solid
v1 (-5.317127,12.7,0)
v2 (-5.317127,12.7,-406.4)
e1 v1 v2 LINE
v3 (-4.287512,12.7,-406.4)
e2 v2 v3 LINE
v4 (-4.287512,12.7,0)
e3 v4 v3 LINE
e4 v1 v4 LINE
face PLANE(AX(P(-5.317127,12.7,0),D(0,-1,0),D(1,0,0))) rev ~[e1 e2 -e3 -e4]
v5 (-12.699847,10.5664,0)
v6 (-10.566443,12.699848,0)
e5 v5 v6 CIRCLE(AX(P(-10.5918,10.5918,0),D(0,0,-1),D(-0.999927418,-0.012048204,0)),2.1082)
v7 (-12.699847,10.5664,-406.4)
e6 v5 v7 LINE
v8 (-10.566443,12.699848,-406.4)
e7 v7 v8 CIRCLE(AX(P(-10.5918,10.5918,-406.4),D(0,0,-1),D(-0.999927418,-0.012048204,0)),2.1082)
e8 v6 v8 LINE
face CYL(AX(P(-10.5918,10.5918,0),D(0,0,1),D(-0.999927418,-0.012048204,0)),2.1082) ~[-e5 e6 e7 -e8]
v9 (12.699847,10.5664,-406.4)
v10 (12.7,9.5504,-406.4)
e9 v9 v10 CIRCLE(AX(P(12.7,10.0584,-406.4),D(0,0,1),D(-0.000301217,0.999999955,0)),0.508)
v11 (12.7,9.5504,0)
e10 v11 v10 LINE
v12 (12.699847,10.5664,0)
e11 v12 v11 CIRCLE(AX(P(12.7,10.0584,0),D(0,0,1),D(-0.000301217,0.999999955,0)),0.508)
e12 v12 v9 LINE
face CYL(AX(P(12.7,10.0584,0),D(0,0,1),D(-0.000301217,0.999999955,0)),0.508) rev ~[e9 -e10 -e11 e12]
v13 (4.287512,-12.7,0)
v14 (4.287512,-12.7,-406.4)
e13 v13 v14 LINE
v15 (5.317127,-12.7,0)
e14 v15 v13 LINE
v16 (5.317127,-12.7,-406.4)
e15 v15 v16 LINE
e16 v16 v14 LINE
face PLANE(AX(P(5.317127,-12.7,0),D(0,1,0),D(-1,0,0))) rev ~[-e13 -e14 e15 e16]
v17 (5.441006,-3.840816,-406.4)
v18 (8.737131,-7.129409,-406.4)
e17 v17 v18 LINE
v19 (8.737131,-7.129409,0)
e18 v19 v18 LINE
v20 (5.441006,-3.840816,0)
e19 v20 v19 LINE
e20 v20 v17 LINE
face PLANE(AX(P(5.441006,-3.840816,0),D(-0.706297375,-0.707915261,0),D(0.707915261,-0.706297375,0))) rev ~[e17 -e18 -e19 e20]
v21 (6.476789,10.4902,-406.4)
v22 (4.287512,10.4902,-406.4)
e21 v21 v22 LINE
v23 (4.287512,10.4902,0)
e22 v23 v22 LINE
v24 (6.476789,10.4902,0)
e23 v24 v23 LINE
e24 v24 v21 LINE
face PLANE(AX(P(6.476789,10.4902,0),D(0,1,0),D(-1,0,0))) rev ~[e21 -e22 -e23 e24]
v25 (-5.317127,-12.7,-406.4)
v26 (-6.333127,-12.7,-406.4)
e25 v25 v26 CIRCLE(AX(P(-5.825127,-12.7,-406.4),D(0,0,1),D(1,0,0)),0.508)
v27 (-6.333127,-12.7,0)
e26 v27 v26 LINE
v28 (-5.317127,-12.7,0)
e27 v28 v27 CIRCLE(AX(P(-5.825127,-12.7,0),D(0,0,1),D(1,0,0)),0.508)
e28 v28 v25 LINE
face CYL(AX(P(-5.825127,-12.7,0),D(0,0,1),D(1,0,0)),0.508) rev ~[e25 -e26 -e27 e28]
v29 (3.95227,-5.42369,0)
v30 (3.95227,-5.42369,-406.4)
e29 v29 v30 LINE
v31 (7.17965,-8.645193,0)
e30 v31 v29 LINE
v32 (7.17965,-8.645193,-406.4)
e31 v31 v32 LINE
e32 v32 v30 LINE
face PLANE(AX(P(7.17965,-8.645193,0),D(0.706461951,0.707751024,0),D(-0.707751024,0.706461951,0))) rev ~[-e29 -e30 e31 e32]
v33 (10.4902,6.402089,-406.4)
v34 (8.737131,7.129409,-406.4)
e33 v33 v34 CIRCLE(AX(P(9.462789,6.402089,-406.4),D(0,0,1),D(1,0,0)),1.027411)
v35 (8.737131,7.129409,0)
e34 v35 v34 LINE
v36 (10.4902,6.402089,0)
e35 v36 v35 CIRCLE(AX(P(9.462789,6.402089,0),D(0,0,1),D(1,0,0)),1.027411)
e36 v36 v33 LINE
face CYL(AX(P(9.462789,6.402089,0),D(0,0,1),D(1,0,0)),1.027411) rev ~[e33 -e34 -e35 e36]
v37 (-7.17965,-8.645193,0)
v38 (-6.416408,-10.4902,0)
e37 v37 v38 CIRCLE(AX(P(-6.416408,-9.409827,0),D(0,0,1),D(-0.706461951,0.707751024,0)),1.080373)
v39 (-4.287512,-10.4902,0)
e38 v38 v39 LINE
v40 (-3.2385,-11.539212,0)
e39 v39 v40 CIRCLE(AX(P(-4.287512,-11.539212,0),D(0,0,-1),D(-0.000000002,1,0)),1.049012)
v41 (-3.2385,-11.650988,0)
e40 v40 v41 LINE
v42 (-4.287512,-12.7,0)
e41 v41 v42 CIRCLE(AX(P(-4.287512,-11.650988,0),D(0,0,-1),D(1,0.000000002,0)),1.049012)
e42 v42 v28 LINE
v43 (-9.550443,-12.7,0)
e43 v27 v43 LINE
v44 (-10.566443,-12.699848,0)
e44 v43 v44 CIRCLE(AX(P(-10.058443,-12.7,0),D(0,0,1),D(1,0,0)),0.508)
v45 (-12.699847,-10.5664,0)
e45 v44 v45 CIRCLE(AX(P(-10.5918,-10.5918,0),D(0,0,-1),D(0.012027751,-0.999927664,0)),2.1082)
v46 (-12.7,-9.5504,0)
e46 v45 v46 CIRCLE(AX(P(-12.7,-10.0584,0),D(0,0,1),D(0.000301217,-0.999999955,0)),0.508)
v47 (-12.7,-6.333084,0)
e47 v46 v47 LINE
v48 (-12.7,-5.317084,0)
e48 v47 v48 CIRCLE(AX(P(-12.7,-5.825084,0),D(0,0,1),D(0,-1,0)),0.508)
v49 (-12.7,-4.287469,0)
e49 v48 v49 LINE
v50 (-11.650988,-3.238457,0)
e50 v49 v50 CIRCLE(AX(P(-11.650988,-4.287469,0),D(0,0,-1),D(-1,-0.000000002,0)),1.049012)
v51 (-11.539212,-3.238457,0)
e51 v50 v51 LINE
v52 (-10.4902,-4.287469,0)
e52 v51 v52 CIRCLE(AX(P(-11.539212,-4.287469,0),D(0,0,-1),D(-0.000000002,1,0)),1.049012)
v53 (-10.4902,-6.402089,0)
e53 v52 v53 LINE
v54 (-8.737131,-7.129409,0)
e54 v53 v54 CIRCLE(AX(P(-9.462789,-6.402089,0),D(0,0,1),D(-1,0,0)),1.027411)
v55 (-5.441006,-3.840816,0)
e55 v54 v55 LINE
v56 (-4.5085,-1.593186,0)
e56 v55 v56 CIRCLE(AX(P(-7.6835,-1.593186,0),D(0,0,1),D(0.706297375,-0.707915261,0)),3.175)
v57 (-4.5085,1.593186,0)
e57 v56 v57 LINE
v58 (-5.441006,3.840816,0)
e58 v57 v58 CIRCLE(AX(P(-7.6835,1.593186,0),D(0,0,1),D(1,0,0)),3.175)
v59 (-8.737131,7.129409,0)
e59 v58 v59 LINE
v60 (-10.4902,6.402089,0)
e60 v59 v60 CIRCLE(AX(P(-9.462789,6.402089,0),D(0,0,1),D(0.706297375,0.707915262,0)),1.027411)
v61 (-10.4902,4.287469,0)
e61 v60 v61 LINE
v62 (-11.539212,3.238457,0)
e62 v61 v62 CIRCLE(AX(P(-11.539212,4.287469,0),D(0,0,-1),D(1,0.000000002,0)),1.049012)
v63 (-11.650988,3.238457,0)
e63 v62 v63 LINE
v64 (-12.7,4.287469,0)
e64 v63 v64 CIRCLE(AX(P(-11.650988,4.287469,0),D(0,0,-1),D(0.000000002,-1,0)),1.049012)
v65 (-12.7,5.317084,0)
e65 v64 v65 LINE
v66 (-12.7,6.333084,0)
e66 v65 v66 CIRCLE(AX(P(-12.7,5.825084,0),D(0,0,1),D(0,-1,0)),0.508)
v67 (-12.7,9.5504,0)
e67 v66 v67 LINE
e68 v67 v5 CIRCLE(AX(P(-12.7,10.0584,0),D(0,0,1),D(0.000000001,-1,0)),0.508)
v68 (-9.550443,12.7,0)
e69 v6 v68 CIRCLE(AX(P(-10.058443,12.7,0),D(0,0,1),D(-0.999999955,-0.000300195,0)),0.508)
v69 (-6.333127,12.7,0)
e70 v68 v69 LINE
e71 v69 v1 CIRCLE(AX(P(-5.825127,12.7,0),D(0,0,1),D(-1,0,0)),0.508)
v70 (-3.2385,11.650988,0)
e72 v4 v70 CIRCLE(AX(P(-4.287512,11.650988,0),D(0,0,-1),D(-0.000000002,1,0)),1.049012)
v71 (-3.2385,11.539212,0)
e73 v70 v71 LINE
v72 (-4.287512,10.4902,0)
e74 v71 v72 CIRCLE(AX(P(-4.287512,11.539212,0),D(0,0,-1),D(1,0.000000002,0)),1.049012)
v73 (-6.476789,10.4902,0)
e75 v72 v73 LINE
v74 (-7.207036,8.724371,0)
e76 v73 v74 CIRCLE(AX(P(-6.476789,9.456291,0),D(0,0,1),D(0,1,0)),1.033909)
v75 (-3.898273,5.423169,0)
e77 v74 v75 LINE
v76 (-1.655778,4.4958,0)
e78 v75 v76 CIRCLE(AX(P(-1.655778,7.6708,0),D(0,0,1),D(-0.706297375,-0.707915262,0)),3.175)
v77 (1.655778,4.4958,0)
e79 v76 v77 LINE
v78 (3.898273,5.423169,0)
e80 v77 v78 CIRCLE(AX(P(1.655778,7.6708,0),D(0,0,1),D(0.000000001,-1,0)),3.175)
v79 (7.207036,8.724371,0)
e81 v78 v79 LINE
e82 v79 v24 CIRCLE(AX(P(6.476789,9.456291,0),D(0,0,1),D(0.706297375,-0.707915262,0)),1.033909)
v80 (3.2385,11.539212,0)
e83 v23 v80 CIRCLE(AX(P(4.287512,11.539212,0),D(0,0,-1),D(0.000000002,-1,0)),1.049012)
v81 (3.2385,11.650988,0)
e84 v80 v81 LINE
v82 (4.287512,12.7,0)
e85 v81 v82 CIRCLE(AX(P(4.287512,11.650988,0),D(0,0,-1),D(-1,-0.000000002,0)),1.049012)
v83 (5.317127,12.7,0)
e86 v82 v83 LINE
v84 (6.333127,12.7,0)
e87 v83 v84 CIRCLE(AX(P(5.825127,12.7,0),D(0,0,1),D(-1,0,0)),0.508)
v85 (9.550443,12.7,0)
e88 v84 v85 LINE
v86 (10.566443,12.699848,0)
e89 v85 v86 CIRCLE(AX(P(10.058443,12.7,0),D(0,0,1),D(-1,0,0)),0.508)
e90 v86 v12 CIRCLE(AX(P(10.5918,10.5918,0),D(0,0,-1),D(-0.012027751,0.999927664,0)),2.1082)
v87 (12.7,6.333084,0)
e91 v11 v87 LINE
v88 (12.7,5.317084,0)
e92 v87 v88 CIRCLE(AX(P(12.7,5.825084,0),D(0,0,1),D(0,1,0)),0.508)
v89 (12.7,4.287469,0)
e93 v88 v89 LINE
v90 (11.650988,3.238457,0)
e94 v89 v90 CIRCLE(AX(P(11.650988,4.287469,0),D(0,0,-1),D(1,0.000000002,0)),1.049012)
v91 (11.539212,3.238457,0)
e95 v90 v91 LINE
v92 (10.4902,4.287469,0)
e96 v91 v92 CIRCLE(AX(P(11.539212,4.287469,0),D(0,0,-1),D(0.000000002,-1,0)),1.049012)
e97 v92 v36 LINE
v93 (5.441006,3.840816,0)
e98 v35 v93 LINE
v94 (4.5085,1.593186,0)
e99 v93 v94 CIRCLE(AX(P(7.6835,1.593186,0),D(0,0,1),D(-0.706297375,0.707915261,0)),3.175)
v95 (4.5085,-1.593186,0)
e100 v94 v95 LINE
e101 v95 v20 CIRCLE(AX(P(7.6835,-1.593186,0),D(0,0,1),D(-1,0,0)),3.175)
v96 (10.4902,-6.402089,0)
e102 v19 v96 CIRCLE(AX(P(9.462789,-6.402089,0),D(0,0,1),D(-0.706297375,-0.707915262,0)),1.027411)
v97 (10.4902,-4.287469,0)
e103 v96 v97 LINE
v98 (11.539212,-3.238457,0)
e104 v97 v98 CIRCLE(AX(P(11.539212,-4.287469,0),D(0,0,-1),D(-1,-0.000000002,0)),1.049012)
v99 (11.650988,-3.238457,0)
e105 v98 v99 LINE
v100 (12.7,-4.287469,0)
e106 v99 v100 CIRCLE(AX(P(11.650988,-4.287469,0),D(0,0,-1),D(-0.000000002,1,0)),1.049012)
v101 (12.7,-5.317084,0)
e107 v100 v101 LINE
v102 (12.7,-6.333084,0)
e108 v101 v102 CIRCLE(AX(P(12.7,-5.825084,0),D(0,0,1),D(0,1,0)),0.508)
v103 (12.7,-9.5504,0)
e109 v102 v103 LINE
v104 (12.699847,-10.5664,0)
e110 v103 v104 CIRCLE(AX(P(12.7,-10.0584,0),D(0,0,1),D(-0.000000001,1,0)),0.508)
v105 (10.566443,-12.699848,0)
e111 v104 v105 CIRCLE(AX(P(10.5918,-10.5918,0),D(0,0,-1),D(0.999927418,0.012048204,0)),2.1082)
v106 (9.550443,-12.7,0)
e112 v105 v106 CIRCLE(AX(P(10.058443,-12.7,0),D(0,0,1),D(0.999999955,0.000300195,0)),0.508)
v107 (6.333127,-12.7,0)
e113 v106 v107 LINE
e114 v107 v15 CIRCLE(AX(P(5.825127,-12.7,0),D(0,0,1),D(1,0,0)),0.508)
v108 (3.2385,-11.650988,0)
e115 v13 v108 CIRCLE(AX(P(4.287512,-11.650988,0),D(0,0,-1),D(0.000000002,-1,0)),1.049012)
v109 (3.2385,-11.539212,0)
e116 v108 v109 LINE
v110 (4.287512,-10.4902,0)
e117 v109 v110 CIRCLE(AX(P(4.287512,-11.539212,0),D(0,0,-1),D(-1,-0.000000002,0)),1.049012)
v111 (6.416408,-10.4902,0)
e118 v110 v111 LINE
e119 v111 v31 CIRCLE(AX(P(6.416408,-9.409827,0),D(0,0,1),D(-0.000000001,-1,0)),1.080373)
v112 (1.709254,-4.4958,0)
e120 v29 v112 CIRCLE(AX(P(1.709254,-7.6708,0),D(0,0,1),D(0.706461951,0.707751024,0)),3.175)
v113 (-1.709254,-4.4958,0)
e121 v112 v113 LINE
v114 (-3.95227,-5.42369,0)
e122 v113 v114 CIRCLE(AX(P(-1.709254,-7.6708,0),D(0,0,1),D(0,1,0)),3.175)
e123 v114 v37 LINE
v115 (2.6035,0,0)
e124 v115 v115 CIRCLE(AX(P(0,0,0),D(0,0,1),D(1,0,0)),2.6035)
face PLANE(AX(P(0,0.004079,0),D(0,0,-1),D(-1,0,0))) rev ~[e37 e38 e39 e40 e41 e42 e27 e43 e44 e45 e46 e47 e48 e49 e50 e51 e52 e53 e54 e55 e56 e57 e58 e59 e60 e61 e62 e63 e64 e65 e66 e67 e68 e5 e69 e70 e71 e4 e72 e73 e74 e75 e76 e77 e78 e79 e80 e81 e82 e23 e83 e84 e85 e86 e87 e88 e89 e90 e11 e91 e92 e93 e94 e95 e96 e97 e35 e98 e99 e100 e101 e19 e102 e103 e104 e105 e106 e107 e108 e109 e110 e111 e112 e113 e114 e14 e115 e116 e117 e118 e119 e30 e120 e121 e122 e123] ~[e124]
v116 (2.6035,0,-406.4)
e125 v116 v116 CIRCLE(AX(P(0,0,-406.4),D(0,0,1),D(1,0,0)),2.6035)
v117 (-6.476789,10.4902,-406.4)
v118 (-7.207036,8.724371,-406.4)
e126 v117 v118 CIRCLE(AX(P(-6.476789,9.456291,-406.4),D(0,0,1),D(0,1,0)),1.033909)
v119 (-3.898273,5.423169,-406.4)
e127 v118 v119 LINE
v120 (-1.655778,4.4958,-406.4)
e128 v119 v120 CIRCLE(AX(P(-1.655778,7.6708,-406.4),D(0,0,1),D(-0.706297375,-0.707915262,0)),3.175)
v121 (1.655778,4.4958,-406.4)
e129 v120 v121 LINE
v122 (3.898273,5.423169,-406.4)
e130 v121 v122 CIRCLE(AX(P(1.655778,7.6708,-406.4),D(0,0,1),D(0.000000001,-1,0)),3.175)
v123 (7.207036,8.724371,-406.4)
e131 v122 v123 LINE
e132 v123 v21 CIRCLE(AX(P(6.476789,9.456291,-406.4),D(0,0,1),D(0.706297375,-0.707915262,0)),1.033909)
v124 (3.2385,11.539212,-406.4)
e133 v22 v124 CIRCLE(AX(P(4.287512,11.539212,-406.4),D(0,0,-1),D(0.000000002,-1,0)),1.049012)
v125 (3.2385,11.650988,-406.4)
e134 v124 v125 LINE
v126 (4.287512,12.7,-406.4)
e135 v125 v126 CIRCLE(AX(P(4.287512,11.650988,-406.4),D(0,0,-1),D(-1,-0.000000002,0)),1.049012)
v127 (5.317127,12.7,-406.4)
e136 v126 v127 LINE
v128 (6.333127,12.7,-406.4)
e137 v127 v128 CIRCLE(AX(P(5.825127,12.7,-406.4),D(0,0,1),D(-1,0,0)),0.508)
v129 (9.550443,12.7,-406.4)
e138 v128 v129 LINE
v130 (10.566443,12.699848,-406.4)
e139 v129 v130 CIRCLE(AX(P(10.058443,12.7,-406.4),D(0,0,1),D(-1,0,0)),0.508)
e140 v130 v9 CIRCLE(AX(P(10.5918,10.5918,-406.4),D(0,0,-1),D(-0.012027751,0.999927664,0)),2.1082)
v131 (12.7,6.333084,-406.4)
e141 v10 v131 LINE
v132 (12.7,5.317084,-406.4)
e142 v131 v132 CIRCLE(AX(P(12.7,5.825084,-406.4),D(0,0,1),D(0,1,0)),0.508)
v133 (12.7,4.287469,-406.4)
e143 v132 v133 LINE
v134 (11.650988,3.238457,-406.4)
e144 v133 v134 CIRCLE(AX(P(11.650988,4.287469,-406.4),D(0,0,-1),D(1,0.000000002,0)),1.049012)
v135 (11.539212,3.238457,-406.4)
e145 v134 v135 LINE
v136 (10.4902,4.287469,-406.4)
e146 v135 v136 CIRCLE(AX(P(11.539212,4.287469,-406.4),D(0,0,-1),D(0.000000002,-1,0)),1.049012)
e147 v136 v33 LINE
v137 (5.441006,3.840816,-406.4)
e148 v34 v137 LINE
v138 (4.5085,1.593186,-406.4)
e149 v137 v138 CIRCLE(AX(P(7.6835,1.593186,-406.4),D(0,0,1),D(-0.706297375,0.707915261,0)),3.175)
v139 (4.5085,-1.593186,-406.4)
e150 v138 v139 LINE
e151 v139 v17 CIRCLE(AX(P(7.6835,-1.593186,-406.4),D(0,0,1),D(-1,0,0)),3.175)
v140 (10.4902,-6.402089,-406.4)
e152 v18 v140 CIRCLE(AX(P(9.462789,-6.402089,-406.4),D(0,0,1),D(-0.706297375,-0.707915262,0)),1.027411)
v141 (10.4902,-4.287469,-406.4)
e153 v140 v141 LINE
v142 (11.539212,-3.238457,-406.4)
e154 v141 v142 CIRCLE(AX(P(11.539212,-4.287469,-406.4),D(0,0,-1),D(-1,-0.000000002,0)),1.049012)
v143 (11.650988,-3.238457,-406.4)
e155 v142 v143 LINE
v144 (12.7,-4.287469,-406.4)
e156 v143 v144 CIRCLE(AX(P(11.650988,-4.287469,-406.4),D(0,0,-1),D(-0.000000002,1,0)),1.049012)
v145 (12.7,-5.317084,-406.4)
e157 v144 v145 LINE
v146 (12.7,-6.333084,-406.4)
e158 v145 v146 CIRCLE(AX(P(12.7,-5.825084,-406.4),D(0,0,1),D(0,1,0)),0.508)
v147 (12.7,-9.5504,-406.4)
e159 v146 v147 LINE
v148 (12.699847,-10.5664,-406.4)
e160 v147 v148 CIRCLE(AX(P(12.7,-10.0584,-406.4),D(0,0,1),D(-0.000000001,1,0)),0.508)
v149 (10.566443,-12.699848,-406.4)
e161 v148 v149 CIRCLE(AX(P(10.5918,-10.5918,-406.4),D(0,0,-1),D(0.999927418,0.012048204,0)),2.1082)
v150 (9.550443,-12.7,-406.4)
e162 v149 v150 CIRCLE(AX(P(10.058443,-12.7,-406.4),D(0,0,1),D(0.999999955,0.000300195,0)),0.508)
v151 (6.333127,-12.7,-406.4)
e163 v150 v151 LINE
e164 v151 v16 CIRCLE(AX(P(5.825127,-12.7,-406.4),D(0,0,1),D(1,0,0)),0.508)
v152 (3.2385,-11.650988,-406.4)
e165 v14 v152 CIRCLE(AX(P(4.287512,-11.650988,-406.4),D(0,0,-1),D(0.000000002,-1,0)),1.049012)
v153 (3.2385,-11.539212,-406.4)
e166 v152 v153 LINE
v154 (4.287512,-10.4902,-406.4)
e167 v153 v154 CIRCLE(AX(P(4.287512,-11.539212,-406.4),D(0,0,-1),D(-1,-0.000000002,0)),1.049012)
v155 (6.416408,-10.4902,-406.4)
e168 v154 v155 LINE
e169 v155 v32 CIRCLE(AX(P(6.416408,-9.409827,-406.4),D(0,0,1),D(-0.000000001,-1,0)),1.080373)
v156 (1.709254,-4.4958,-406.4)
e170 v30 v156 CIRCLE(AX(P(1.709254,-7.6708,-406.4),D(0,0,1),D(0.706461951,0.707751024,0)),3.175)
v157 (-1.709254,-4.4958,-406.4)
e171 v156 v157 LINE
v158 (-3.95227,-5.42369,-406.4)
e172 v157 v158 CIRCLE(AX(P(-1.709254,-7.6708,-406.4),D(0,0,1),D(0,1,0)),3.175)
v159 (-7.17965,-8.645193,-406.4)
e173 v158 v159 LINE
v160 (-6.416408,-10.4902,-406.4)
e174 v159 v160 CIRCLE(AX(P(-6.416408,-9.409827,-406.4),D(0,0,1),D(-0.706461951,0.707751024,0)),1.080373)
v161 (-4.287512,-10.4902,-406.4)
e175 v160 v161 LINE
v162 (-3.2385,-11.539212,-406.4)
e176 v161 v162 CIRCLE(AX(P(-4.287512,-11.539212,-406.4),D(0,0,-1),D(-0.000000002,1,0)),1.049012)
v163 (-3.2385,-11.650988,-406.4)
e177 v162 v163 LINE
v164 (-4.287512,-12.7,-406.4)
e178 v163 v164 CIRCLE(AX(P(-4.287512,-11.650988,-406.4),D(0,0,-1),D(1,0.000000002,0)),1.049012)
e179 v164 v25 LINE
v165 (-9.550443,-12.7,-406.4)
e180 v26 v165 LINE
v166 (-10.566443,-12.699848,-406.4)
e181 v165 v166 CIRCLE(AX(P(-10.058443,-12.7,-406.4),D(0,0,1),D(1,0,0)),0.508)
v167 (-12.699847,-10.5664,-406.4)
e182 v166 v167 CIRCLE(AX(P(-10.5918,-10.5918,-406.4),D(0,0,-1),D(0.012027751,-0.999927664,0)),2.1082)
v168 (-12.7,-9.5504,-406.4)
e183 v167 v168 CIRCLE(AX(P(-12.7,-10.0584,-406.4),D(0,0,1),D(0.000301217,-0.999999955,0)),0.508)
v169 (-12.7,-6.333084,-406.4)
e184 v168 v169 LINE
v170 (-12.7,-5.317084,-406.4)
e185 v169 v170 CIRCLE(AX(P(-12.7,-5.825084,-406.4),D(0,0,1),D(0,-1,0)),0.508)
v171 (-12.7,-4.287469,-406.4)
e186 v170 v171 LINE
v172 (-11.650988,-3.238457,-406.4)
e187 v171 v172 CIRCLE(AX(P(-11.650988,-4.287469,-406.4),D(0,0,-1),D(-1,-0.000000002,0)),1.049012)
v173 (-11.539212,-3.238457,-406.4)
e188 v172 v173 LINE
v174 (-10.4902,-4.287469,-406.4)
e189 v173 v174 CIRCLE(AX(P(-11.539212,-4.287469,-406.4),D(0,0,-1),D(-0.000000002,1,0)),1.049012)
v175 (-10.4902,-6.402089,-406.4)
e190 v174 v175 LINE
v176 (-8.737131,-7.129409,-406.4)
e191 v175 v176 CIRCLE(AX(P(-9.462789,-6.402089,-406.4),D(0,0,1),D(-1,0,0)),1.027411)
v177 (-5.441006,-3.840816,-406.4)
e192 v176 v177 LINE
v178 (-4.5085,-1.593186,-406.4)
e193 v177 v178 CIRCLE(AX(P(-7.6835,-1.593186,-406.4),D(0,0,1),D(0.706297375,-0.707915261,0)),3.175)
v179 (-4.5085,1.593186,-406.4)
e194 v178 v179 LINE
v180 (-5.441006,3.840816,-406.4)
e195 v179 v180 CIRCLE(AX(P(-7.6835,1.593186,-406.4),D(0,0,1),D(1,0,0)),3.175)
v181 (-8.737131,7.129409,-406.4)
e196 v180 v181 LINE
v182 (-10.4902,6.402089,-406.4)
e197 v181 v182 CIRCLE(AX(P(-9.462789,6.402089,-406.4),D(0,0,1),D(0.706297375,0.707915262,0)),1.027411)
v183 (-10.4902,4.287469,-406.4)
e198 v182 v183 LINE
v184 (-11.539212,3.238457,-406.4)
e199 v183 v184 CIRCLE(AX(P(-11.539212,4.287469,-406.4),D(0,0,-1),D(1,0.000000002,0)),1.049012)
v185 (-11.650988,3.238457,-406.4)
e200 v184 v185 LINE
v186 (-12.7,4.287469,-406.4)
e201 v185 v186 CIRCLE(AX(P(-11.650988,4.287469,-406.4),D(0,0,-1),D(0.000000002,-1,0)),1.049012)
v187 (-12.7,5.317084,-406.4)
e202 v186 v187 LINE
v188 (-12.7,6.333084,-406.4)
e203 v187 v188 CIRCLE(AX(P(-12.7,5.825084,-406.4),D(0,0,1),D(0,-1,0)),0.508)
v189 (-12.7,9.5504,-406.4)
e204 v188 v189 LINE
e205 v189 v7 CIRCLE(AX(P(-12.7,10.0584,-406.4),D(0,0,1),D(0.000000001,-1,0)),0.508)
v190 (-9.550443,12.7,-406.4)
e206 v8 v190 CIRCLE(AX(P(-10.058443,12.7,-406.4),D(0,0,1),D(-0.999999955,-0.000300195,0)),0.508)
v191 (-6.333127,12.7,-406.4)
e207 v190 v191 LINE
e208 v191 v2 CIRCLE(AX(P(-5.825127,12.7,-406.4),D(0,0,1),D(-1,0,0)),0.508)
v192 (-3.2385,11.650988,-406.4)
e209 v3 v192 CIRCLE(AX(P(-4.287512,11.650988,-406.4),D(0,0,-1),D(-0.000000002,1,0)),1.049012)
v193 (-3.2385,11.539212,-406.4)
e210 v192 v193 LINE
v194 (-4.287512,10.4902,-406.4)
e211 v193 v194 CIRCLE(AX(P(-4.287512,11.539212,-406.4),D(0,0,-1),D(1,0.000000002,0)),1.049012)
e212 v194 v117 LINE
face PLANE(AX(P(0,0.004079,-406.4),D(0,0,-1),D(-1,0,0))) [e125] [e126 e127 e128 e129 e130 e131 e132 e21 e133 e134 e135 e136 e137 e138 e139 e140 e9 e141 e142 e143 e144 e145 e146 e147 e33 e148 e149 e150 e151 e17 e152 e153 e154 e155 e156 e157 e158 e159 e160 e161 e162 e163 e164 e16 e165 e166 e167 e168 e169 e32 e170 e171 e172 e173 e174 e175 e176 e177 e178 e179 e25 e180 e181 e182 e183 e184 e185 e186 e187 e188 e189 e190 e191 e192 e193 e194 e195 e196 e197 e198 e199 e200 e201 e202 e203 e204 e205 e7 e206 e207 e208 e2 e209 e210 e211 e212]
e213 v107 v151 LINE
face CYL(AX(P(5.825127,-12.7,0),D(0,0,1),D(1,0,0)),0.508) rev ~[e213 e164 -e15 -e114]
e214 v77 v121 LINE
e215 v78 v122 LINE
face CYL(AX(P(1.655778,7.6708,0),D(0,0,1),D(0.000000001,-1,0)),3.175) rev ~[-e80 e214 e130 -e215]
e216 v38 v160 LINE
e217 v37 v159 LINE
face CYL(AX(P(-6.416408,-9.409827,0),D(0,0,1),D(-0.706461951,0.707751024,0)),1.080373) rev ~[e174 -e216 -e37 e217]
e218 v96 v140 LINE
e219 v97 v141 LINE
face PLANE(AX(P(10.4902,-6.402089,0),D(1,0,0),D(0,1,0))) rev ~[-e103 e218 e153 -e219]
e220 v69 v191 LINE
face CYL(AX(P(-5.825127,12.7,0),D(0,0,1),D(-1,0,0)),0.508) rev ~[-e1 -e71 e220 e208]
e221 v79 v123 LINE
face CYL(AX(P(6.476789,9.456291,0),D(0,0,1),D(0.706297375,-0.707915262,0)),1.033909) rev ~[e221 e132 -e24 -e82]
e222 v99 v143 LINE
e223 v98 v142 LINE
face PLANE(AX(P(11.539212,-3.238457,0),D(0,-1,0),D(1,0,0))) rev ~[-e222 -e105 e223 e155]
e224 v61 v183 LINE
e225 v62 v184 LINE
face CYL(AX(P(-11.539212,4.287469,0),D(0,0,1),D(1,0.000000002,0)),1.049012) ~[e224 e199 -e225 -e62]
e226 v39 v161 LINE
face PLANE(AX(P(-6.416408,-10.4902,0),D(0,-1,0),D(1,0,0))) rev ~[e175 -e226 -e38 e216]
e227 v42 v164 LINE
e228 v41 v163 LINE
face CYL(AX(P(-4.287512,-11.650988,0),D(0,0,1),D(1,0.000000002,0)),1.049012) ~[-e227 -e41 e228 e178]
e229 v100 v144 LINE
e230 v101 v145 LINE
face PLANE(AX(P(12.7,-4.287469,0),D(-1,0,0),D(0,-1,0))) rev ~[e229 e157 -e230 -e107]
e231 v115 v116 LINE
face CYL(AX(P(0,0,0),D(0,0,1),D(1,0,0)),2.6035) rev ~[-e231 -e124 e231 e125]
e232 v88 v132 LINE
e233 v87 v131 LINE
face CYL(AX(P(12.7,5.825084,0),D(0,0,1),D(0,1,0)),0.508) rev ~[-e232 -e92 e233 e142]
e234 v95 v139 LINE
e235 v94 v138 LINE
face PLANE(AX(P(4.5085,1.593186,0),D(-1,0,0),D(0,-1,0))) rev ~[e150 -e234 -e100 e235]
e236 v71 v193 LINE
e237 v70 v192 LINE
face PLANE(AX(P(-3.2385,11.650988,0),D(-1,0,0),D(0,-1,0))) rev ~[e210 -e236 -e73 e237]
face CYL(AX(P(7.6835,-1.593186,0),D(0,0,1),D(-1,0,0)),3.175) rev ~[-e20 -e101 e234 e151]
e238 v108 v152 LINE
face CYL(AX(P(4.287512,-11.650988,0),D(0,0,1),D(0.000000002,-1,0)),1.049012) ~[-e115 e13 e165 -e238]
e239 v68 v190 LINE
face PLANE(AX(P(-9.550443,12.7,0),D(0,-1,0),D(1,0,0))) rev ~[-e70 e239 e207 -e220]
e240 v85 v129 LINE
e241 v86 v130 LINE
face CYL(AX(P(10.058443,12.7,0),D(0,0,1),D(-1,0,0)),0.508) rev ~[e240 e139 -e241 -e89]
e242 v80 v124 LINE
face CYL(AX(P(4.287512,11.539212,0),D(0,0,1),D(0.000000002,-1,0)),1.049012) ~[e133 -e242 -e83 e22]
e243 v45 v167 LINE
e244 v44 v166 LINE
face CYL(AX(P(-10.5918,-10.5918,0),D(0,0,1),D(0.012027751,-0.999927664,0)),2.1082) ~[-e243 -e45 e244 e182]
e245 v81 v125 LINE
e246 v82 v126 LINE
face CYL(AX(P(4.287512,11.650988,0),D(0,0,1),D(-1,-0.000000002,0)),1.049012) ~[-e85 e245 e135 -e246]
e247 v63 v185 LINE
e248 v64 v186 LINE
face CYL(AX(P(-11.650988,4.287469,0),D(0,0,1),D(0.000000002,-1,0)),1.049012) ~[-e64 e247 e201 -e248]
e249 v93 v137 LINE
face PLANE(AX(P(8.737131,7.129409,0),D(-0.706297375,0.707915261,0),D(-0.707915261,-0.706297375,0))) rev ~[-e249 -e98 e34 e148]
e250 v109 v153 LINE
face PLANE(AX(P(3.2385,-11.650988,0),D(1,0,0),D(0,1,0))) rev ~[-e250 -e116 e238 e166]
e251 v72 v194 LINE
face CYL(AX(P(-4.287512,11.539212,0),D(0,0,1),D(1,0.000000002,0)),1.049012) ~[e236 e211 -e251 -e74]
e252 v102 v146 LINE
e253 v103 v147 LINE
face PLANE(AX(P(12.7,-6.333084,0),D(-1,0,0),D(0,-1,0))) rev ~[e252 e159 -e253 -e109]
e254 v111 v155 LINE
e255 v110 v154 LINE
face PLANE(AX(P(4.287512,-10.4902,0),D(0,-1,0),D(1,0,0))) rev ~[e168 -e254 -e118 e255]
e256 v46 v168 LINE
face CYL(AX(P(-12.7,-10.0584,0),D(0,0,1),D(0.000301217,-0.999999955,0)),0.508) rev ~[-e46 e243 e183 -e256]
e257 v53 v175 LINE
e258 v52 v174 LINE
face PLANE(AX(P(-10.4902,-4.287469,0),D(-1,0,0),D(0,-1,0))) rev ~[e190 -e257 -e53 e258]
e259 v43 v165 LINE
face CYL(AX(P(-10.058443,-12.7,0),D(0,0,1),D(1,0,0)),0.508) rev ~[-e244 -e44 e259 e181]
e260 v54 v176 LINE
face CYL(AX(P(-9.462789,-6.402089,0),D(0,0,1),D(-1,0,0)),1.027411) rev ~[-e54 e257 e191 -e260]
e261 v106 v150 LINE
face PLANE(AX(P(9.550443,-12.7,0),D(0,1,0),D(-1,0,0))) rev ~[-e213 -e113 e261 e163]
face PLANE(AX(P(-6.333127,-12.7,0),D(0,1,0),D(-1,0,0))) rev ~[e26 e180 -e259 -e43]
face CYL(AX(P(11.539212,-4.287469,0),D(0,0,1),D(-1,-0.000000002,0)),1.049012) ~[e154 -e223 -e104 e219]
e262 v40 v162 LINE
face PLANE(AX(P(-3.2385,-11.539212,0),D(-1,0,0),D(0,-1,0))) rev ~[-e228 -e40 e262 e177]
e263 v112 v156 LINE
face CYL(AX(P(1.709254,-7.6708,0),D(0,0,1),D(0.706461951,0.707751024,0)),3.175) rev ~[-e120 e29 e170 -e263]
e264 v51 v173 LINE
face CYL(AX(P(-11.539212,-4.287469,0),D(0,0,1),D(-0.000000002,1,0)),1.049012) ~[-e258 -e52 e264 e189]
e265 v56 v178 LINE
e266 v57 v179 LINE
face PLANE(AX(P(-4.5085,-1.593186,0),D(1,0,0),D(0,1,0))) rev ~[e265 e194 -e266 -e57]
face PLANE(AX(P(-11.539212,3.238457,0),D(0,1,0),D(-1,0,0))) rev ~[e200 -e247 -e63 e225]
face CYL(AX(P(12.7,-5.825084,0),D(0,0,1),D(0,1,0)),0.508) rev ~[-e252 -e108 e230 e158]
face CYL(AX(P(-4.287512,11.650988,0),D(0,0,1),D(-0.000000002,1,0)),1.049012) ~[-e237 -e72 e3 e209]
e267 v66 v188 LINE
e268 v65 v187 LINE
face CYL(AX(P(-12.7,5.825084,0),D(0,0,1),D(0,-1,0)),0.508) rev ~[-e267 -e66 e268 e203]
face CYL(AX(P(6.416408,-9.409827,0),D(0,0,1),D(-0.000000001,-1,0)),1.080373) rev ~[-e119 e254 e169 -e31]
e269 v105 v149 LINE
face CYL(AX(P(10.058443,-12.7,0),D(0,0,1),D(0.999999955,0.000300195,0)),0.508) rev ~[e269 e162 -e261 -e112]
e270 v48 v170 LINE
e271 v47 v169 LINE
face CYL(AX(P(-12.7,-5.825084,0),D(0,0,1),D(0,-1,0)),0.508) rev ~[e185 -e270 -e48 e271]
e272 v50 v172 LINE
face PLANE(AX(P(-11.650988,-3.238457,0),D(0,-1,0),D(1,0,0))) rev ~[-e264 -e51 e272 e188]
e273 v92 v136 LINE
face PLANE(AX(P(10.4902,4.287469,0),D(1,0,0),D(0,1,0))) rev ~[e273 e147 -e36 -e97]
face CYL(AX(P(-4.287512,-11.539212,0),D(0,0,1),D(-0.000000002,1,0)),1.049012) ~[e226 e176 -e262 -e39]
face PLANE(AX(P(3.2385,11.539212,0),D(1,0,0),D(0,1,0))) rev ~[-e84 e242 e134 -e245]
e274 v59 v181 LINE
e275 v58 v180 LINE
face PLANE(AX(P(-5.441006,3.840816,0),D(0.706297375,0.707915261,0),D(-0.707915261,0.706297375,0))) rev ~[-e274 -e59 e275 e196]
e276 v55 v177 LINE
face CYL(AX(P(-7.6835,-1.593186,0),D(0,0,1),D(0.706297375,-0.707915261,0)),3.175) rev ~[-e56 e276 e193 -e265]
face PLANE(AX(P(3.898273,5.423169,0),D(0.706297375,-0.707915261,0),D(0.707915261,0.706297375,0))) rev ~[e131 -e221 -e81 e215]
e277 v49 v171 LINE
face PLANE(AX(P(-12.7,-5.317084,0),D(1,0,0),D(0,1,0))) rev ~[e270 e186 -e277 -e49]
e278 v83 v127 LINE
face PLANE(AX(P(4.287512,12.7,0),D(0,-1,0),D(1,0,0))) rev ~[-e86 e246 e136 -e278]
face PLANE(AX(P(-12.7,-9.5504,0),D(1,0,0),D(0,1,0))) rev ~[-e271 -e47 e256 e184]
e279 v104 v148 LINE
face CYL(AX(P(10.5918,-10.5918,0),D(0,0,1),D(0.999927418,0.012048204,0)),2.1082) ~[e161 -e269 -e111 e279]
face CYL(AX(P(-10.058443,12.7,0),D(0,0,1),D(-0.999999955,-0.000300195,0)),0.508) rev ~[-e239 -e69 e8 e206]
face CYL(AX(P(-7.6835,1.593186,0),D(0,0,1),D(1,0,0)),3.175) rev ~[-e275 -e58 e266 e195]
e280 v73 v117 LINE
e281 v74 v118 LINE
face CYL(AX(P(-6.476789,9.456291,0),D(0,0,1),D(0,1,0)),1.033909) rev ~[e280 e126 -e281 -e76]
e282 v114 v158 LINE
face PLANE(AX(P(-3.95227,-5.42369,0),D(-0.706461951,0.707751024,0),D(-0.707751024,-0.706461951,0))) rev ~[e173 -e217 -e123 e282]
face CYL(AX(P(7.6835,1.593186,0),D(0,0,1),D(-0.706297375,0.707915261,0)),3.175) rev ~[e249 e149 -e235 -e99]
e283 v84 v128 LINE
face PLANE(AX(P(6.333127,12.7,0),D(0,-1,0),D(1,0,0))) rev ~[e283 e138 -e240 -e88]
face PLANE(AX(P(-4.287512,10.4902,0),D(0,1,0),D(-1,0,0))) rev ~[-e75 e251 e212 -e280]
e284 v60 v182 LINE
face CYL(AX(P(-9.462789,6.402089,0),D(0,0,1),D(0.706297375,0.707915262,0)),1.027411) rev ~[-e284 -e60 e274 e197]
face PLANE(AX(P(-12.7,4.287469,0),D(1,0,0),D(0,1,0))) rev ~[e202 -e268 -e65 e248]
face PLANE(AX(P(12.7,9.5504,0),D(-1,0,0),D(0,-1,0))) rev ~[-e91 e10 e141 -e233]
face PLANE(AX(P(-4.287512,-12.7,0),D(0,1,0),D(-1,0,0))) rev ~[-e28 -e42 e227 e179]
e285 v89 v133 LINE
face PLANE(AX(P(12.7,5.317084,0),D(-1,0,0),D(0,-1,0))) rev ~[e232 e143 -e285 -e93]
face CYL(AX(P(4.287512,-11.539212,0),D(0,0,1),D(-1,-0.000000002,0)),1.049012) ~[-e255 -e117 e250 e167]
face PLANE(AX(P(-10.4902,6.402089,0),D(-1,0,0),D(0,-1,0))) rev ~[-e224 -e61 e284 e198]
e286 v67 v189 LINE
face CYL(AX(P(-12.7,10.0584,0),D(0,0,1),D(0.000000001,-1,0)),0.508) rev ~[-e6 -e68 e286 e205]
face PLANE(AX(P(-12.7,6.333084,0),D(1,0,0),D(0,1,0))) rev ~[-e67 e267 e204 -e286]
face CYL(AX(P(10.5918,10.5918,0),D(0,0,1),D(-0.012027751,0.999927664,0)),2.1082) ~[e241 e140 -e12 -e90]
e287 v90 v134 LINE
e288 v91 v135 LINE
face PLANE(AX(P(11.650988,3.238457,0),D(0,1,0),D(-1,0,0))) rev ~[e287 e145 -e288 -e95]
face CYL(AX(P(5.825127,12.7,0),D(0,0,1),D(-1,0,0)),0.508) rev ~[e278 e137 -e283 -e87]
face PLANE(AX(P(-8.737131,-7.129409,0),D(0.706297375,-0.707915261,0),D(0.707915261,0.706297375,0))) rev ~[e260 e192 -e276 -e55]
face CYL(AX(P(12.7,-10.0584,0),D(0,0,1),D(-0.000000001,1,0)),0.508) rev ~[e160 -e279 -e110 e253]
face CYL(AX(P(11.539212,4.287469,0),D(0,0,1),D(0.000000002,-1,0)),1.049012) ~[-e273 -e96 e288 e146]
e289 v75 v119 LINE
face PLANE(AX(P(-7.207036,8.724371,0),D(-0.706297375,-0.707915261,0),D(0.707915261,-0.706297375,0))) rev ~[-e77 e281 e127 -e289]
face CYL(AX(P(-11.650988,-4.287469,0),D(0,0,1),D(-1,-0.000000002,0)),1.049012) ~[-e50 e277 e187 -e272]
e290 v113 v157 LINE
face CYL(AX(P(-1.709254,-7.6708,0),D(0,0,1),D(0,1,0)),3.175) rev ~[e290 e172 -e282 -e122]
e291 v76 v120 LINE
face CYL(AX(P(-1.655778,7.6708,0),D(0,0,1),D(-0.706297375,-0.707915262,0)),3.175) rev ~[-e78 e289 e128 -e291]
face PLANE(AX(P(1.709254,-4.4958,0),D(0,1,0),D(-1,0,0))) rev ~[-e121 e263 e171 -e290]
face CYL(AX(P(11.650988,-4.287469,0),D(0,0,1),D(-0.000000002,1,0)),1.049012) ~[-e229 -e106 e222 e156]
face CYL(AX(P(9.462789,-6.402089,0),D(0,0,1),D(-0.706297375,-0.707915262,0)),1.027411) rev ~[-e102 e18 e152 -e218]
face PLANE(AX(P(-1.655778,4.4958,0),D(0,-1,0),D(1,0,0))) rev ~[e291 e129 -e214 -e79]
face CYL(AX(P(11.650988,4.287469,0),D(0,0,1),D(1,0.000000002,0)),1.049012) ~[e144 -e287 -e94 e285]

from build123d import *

# Parameters (mm, degrees)
SKETCH1_R      = 2.6035
EXTRUDE1_DEPTH = 406.4


with BuildPart() as part:
    # Sketch1 → Extrude1 (new body)
    with BuildSketch(Plane.XY):
        with BuildLine():
            Line((-7.207036008, 8.724370562), (-3.898272566, 5.423169045))
            ThreePointArc((-3.898272566, 5.423169045), (-2.869120213, 4.736787962), (-1.655778399, 4.4958))
            Line((-1.655778399, 4.4958), (1.655778399, 4.4958))
            ThreePointArc((1.655778399, 4.4958), (2.869120213, 4.736787962), (3.898272566, 5.423169045))
            Line((3.898272566, 5.423169045), (7.207036008, 8.724370562))
            ThreePointArc((7.207036008, 8.724370562), (7.432222385, 9.85140422), (6.476788598, 10.4902))
            Line((6.476788598, 10.4902), (4.287512407, 10.4902))
            ThreePointArc((4.287512407, 10.4902), (3.54574862, 10.79744862), (3.2385, 11.539212407))
            Line((3.2385, 11.539212407), (3.2385, 11.650987593))
            ThreePointArc((3.2385, 11.650987593), (3.54574862, 12.39275138), (4.287512407, 12.7))
            Line((4.287512407, 12.7), (5.317126718, 12.7))
            ThreePointArc((5.317126718, 12.7), (5.825126718, 12.192), (6.333126718, 12.7))
            Line((6.333126718, 12.7), (9.550443118, 12.7))
            ThreePointArc((9.550443118, 12.7), (10.058366869, 12.192000006), (10.566443095, 12.699847501))
            ThreePointArc((10.566443095, 12.699847501), (12.082537762, 12.08250727), (12.699846982, 10.566399977))
            ThreePointArc((12.699846982, 10.566399977), (12.192000006, 10.058323491), (12.7, 9.5504))
            Line((12.7, 9.5504), (12.7, 6.3330836))
            ThreePointArc((12.7, 6.3330836), (12.192, 5.8250836), (12.7, 5.3170836))
            Line((12.7, 5.3170836), (12.7, 4.287469289))
            ThreePointArc((12.7, 4.287469289), (12.39275138, 3.545705502), (11.650987593, 3.238456882))
            Line((11.650987593, 3.238456882), (11.539212407, 3.238456882))
            ThreePointArc((11.539212407, 3.238456882), (10.79744862, 3.545705502), (10.4902, 4.287469289))
            Line((10.4902, 4.287469289), (10.4902, 6.402089023))
            ThreePointArc((10.4902, 6.402089023), (9.856505071, 7.351067942), (8.737131347, 7.129408934))
            Line((8.737131347, 7.129408934), (5.441005833, 3.840816462))
            ThreePointArc((5.441005833, 3.840816462), (4.750877967, 2.809883091), (4.5085, 1.593185507))
            Line((4.5085, 1.593185507), (4.5085, -1.593185507))
            ThreePointArc((4.5085, -1.593185507), (4.750877967, -2.809883091), (5.441005833, -3.840816462))
            Line((5.441005833, -3.840816462), (8.737131347, -7.129408934))
            ThreePointArc((8.737131347, -7.129408934), (9.856505071, -7.351067942), (10.4902, -6.402089023))
            Line((10.4902, -6.402089023), (10.4902, -4.287469289))
            ThreePointArc((10.4902, -4.287469289), (10.79744862, -3.545705502), (11.539212407, -3.238456882))
            Line((11.539212407, -3.238456882), (11.650987593, -3.238456882))
            ThreePointArc((11.650987593, -3.238456882), (12.39275138, -3.545705502), (12.7, -4.287469289))
            Line((12.7, -4.287469289), (12.7, -5.3170836))
            ThreePointArc((12.7, -5.3170836), (12.192, -5.8250836), (12.7, -6.3330836))
            Line((12.7, -6.3330836), (12.7, -9.5504))
            ThreePointArc((12.7, -9.5504), (12.192000006, -10.058323491), (12.699846982, -10.566399977))
            ThreePointArc((12.699846982, -10.566399977), (12.082537762, -12.08250727), (10.566443095, -12.699847501))
            ThreePointArc((10.566443095, -12.699847501), (10.058366869, -12.192000006), (9.550443118, -12.7))
            Line((9.550443118, -12.7), (6.333126718, -12.7))
            ThreePointArc((6.333126718, -12.7), (5.825126718, -12.192), (5.317126718, -12.7))
            Line((5.317126718, -12.7), (4.287512407, -12.7))
            ThreePointArc((4.287512407, -12.7), (3.54574862, -12.39275138), (3.2385, -11.650987593))
            Line((3.2385, -11.650987593), (3.2385, -11.539212407))
            ThreePointArc((3.2385, -11.539212407), (3.54574862, -10.79744862), (4.287512407, -10.4902))
            Line((4.287512407, -10.4902), (6.416408329, -10.4902))
            ThreePointArc((6.416408329, -10.4902), (7.41473083, -9.822813117), (7.179650497, -8.645192506))
            Line((7.179650497, -8.645192506), (3.952270251, -5.423690499))
            ThreePointArc((3.952270251, -5.423690499), (2.922936451, -4.736929036), (1.709253557, -4.4958))
            Line((1.709253557, -4.4958), (-1.709253557, -4.4958))
            ThreePointArc((-1.709253557, -4.4958), (-2.922936451, -4.736929036), (-3.952270251, -5.423690499))
            Line((-3.952270251, -5.423690499), (-7.179650497, -8.645192506))
            ThreePointArc((-7.179650497, -8.645192506), (-7.41473083, -9.822813117), (-6.416408329, -10.4902))
            Line((-6.416408329, -10.4902), (-4.287512407, -10.4902))
            ThreePointArc((-4.287512407, -10.4902), (-3.54574862, -10.79744862), (-3.2385, -11.539212407))
            Line((-3.2385, -11.539212407), (-3.2385, -11.650987593))
            ThreePointArc((-3.2385, -11.650987593), (-3.54574862, -12.39275138), (-4.287512407, -12.7))
            Line((-4.287512407, -12.7), (-5.317126718, -12.7))
            ThreePointArc((-5.317126718, -12.7), (-5.825126718, -12.192), (-6.333126718, -12.7))
            Line((-6.333126718, -12.7), (-9.550443118, -12.7))
            ThreePointArc((-9.550443118, -12.7), (-10.058366869, -12.192000006), (-10.566443095, -12.699847501))
            ThreePointArc((-10.566443095, -12.699847501), (-12.082537762, -12.08250727), (-12.699846982, -10.566399977))
            ThreePointArc((-12.699846982, -10.566399977), (-12.192000006, -10.058323491), (-12.7, -9.5504))
            Line((-12.7, -9.5504), (-12.7, -6.3330836))
            ThreePointArc((-12.7, -6.3330836), (-12.192, -5.8250836), (-12.7, -5.3170836))
            Line((-12.7, -5.3170836), (-12.7, -4.287469289))
            ThreePointArc((-12.7, -4.287469289), (-12.39275138, -3.545705502), (-11.650987593, -3.238456882))
            Line((-11.650987593, -3.238456882), (-11.539212407, -3.238456882))
            ThreePointArc((-11.539212407, -3.238456882), (-10.79744862, -3.545705502), (-10.4902, -4.287469289))
            Line((-10.4902, -4.287469289), (-10.4902, -6.402089023))
            ThreePointArc((-10.4902, -6.402089023), (-9.856505071, -7.351067942), (-8.737131347, -7.129408934))
            Line((-8.737131347, -7.129408934), (-5.441005833, -3.840816462))
            ThreePointArc((-5.441005833, -3.840816462), (-4.750877967, -2.809883091), (-4.5085, -1.593185507))
            Line((-4.5085, -1.593185507), (-4.5085, 1.593185507))
            ThreePointArc((-4.5085, 1.593185507), (-4.750877967, 2.809883091), (-5.441005833, 3.840816462))
            Line((-5.441005833, 3.840816462), (-8.737131347, 7.129408934))
            ThreePointArc((-8.737131347, 7.129408934), (-9.856505071, 7.351067942), (-10.4902, 6.402089023))
            Line((-10.4902, 6.402089023), (-10.4902, 4.287469289))
            ThreePointArc((-10.4902, 4.287469289), (-10.79744862, 3.545705502), (-11.539212407, 3.238456882))
            Line((-11.539212407, 3.238456882), (-11.650987593, 3.238456882))
            ThreePointArc((-11.650987593, 3.238456882), (-12.39275138, 3.545705502), (-12.7, 4.287469289))
            Line((-12.7, 4.287469289), (-12.7, 5.3170836))
            ThreePointArc((-12.7, 5.3170836), (-12.192, 5.8250836), (-12.7, 6.3330836))
            Line((-12.7, 6.3330836), (-12.7, 9.5504))
            ThreePointArc((-12.7, 9.5504), (-12.192000006, 10.058323491), (-12.699846982, 10.566399977))
            ThreePointArc((-12.699846982, 10.566399977), (-12.082537762, 12.08250727), (-10.566443095, 12.699847501))
            ThreePointArc((-10.566443095, 12.699847501), (-10.058366869, 12.192000006), (-9.550443118, 12.7))
            Line((-9.550443118, 12.7), (-6.333126718, 12.7))
            ThreePointArc((-6.333126718, 12.7), (-5.825126718, 12.192), (-5.317126718, 12.7))
            Line((-5.317126718, 12.7), (-4.287512407, 12.7))
            ThreePointArc((-4.287512407, 12.7), (-3.54574862, 12.39275138), (-3.2385, 11.650987593))
            Line((-3.2385, 11.650987593), (-3.2385, 11.539212407))
            ThreePointArc((-3.2385, 11.539212407), (-3.54574862, 10.79744862), (-4.287512407, 10.4902))
            Line((-4.287512407, 10.4902), (-6.476788598, 10.4902))
            ThreePointArc((-6.476788598, 10.4902), (-7.432222385, 9.85140422), (-7.207036008, 8.724370562))
        make_face()
        Circle(SKETCH1_R, mode=Mode.SUBTRACT)
    extrude(amount=-EXTRUDE1_DEPTH)


solid = part.part
